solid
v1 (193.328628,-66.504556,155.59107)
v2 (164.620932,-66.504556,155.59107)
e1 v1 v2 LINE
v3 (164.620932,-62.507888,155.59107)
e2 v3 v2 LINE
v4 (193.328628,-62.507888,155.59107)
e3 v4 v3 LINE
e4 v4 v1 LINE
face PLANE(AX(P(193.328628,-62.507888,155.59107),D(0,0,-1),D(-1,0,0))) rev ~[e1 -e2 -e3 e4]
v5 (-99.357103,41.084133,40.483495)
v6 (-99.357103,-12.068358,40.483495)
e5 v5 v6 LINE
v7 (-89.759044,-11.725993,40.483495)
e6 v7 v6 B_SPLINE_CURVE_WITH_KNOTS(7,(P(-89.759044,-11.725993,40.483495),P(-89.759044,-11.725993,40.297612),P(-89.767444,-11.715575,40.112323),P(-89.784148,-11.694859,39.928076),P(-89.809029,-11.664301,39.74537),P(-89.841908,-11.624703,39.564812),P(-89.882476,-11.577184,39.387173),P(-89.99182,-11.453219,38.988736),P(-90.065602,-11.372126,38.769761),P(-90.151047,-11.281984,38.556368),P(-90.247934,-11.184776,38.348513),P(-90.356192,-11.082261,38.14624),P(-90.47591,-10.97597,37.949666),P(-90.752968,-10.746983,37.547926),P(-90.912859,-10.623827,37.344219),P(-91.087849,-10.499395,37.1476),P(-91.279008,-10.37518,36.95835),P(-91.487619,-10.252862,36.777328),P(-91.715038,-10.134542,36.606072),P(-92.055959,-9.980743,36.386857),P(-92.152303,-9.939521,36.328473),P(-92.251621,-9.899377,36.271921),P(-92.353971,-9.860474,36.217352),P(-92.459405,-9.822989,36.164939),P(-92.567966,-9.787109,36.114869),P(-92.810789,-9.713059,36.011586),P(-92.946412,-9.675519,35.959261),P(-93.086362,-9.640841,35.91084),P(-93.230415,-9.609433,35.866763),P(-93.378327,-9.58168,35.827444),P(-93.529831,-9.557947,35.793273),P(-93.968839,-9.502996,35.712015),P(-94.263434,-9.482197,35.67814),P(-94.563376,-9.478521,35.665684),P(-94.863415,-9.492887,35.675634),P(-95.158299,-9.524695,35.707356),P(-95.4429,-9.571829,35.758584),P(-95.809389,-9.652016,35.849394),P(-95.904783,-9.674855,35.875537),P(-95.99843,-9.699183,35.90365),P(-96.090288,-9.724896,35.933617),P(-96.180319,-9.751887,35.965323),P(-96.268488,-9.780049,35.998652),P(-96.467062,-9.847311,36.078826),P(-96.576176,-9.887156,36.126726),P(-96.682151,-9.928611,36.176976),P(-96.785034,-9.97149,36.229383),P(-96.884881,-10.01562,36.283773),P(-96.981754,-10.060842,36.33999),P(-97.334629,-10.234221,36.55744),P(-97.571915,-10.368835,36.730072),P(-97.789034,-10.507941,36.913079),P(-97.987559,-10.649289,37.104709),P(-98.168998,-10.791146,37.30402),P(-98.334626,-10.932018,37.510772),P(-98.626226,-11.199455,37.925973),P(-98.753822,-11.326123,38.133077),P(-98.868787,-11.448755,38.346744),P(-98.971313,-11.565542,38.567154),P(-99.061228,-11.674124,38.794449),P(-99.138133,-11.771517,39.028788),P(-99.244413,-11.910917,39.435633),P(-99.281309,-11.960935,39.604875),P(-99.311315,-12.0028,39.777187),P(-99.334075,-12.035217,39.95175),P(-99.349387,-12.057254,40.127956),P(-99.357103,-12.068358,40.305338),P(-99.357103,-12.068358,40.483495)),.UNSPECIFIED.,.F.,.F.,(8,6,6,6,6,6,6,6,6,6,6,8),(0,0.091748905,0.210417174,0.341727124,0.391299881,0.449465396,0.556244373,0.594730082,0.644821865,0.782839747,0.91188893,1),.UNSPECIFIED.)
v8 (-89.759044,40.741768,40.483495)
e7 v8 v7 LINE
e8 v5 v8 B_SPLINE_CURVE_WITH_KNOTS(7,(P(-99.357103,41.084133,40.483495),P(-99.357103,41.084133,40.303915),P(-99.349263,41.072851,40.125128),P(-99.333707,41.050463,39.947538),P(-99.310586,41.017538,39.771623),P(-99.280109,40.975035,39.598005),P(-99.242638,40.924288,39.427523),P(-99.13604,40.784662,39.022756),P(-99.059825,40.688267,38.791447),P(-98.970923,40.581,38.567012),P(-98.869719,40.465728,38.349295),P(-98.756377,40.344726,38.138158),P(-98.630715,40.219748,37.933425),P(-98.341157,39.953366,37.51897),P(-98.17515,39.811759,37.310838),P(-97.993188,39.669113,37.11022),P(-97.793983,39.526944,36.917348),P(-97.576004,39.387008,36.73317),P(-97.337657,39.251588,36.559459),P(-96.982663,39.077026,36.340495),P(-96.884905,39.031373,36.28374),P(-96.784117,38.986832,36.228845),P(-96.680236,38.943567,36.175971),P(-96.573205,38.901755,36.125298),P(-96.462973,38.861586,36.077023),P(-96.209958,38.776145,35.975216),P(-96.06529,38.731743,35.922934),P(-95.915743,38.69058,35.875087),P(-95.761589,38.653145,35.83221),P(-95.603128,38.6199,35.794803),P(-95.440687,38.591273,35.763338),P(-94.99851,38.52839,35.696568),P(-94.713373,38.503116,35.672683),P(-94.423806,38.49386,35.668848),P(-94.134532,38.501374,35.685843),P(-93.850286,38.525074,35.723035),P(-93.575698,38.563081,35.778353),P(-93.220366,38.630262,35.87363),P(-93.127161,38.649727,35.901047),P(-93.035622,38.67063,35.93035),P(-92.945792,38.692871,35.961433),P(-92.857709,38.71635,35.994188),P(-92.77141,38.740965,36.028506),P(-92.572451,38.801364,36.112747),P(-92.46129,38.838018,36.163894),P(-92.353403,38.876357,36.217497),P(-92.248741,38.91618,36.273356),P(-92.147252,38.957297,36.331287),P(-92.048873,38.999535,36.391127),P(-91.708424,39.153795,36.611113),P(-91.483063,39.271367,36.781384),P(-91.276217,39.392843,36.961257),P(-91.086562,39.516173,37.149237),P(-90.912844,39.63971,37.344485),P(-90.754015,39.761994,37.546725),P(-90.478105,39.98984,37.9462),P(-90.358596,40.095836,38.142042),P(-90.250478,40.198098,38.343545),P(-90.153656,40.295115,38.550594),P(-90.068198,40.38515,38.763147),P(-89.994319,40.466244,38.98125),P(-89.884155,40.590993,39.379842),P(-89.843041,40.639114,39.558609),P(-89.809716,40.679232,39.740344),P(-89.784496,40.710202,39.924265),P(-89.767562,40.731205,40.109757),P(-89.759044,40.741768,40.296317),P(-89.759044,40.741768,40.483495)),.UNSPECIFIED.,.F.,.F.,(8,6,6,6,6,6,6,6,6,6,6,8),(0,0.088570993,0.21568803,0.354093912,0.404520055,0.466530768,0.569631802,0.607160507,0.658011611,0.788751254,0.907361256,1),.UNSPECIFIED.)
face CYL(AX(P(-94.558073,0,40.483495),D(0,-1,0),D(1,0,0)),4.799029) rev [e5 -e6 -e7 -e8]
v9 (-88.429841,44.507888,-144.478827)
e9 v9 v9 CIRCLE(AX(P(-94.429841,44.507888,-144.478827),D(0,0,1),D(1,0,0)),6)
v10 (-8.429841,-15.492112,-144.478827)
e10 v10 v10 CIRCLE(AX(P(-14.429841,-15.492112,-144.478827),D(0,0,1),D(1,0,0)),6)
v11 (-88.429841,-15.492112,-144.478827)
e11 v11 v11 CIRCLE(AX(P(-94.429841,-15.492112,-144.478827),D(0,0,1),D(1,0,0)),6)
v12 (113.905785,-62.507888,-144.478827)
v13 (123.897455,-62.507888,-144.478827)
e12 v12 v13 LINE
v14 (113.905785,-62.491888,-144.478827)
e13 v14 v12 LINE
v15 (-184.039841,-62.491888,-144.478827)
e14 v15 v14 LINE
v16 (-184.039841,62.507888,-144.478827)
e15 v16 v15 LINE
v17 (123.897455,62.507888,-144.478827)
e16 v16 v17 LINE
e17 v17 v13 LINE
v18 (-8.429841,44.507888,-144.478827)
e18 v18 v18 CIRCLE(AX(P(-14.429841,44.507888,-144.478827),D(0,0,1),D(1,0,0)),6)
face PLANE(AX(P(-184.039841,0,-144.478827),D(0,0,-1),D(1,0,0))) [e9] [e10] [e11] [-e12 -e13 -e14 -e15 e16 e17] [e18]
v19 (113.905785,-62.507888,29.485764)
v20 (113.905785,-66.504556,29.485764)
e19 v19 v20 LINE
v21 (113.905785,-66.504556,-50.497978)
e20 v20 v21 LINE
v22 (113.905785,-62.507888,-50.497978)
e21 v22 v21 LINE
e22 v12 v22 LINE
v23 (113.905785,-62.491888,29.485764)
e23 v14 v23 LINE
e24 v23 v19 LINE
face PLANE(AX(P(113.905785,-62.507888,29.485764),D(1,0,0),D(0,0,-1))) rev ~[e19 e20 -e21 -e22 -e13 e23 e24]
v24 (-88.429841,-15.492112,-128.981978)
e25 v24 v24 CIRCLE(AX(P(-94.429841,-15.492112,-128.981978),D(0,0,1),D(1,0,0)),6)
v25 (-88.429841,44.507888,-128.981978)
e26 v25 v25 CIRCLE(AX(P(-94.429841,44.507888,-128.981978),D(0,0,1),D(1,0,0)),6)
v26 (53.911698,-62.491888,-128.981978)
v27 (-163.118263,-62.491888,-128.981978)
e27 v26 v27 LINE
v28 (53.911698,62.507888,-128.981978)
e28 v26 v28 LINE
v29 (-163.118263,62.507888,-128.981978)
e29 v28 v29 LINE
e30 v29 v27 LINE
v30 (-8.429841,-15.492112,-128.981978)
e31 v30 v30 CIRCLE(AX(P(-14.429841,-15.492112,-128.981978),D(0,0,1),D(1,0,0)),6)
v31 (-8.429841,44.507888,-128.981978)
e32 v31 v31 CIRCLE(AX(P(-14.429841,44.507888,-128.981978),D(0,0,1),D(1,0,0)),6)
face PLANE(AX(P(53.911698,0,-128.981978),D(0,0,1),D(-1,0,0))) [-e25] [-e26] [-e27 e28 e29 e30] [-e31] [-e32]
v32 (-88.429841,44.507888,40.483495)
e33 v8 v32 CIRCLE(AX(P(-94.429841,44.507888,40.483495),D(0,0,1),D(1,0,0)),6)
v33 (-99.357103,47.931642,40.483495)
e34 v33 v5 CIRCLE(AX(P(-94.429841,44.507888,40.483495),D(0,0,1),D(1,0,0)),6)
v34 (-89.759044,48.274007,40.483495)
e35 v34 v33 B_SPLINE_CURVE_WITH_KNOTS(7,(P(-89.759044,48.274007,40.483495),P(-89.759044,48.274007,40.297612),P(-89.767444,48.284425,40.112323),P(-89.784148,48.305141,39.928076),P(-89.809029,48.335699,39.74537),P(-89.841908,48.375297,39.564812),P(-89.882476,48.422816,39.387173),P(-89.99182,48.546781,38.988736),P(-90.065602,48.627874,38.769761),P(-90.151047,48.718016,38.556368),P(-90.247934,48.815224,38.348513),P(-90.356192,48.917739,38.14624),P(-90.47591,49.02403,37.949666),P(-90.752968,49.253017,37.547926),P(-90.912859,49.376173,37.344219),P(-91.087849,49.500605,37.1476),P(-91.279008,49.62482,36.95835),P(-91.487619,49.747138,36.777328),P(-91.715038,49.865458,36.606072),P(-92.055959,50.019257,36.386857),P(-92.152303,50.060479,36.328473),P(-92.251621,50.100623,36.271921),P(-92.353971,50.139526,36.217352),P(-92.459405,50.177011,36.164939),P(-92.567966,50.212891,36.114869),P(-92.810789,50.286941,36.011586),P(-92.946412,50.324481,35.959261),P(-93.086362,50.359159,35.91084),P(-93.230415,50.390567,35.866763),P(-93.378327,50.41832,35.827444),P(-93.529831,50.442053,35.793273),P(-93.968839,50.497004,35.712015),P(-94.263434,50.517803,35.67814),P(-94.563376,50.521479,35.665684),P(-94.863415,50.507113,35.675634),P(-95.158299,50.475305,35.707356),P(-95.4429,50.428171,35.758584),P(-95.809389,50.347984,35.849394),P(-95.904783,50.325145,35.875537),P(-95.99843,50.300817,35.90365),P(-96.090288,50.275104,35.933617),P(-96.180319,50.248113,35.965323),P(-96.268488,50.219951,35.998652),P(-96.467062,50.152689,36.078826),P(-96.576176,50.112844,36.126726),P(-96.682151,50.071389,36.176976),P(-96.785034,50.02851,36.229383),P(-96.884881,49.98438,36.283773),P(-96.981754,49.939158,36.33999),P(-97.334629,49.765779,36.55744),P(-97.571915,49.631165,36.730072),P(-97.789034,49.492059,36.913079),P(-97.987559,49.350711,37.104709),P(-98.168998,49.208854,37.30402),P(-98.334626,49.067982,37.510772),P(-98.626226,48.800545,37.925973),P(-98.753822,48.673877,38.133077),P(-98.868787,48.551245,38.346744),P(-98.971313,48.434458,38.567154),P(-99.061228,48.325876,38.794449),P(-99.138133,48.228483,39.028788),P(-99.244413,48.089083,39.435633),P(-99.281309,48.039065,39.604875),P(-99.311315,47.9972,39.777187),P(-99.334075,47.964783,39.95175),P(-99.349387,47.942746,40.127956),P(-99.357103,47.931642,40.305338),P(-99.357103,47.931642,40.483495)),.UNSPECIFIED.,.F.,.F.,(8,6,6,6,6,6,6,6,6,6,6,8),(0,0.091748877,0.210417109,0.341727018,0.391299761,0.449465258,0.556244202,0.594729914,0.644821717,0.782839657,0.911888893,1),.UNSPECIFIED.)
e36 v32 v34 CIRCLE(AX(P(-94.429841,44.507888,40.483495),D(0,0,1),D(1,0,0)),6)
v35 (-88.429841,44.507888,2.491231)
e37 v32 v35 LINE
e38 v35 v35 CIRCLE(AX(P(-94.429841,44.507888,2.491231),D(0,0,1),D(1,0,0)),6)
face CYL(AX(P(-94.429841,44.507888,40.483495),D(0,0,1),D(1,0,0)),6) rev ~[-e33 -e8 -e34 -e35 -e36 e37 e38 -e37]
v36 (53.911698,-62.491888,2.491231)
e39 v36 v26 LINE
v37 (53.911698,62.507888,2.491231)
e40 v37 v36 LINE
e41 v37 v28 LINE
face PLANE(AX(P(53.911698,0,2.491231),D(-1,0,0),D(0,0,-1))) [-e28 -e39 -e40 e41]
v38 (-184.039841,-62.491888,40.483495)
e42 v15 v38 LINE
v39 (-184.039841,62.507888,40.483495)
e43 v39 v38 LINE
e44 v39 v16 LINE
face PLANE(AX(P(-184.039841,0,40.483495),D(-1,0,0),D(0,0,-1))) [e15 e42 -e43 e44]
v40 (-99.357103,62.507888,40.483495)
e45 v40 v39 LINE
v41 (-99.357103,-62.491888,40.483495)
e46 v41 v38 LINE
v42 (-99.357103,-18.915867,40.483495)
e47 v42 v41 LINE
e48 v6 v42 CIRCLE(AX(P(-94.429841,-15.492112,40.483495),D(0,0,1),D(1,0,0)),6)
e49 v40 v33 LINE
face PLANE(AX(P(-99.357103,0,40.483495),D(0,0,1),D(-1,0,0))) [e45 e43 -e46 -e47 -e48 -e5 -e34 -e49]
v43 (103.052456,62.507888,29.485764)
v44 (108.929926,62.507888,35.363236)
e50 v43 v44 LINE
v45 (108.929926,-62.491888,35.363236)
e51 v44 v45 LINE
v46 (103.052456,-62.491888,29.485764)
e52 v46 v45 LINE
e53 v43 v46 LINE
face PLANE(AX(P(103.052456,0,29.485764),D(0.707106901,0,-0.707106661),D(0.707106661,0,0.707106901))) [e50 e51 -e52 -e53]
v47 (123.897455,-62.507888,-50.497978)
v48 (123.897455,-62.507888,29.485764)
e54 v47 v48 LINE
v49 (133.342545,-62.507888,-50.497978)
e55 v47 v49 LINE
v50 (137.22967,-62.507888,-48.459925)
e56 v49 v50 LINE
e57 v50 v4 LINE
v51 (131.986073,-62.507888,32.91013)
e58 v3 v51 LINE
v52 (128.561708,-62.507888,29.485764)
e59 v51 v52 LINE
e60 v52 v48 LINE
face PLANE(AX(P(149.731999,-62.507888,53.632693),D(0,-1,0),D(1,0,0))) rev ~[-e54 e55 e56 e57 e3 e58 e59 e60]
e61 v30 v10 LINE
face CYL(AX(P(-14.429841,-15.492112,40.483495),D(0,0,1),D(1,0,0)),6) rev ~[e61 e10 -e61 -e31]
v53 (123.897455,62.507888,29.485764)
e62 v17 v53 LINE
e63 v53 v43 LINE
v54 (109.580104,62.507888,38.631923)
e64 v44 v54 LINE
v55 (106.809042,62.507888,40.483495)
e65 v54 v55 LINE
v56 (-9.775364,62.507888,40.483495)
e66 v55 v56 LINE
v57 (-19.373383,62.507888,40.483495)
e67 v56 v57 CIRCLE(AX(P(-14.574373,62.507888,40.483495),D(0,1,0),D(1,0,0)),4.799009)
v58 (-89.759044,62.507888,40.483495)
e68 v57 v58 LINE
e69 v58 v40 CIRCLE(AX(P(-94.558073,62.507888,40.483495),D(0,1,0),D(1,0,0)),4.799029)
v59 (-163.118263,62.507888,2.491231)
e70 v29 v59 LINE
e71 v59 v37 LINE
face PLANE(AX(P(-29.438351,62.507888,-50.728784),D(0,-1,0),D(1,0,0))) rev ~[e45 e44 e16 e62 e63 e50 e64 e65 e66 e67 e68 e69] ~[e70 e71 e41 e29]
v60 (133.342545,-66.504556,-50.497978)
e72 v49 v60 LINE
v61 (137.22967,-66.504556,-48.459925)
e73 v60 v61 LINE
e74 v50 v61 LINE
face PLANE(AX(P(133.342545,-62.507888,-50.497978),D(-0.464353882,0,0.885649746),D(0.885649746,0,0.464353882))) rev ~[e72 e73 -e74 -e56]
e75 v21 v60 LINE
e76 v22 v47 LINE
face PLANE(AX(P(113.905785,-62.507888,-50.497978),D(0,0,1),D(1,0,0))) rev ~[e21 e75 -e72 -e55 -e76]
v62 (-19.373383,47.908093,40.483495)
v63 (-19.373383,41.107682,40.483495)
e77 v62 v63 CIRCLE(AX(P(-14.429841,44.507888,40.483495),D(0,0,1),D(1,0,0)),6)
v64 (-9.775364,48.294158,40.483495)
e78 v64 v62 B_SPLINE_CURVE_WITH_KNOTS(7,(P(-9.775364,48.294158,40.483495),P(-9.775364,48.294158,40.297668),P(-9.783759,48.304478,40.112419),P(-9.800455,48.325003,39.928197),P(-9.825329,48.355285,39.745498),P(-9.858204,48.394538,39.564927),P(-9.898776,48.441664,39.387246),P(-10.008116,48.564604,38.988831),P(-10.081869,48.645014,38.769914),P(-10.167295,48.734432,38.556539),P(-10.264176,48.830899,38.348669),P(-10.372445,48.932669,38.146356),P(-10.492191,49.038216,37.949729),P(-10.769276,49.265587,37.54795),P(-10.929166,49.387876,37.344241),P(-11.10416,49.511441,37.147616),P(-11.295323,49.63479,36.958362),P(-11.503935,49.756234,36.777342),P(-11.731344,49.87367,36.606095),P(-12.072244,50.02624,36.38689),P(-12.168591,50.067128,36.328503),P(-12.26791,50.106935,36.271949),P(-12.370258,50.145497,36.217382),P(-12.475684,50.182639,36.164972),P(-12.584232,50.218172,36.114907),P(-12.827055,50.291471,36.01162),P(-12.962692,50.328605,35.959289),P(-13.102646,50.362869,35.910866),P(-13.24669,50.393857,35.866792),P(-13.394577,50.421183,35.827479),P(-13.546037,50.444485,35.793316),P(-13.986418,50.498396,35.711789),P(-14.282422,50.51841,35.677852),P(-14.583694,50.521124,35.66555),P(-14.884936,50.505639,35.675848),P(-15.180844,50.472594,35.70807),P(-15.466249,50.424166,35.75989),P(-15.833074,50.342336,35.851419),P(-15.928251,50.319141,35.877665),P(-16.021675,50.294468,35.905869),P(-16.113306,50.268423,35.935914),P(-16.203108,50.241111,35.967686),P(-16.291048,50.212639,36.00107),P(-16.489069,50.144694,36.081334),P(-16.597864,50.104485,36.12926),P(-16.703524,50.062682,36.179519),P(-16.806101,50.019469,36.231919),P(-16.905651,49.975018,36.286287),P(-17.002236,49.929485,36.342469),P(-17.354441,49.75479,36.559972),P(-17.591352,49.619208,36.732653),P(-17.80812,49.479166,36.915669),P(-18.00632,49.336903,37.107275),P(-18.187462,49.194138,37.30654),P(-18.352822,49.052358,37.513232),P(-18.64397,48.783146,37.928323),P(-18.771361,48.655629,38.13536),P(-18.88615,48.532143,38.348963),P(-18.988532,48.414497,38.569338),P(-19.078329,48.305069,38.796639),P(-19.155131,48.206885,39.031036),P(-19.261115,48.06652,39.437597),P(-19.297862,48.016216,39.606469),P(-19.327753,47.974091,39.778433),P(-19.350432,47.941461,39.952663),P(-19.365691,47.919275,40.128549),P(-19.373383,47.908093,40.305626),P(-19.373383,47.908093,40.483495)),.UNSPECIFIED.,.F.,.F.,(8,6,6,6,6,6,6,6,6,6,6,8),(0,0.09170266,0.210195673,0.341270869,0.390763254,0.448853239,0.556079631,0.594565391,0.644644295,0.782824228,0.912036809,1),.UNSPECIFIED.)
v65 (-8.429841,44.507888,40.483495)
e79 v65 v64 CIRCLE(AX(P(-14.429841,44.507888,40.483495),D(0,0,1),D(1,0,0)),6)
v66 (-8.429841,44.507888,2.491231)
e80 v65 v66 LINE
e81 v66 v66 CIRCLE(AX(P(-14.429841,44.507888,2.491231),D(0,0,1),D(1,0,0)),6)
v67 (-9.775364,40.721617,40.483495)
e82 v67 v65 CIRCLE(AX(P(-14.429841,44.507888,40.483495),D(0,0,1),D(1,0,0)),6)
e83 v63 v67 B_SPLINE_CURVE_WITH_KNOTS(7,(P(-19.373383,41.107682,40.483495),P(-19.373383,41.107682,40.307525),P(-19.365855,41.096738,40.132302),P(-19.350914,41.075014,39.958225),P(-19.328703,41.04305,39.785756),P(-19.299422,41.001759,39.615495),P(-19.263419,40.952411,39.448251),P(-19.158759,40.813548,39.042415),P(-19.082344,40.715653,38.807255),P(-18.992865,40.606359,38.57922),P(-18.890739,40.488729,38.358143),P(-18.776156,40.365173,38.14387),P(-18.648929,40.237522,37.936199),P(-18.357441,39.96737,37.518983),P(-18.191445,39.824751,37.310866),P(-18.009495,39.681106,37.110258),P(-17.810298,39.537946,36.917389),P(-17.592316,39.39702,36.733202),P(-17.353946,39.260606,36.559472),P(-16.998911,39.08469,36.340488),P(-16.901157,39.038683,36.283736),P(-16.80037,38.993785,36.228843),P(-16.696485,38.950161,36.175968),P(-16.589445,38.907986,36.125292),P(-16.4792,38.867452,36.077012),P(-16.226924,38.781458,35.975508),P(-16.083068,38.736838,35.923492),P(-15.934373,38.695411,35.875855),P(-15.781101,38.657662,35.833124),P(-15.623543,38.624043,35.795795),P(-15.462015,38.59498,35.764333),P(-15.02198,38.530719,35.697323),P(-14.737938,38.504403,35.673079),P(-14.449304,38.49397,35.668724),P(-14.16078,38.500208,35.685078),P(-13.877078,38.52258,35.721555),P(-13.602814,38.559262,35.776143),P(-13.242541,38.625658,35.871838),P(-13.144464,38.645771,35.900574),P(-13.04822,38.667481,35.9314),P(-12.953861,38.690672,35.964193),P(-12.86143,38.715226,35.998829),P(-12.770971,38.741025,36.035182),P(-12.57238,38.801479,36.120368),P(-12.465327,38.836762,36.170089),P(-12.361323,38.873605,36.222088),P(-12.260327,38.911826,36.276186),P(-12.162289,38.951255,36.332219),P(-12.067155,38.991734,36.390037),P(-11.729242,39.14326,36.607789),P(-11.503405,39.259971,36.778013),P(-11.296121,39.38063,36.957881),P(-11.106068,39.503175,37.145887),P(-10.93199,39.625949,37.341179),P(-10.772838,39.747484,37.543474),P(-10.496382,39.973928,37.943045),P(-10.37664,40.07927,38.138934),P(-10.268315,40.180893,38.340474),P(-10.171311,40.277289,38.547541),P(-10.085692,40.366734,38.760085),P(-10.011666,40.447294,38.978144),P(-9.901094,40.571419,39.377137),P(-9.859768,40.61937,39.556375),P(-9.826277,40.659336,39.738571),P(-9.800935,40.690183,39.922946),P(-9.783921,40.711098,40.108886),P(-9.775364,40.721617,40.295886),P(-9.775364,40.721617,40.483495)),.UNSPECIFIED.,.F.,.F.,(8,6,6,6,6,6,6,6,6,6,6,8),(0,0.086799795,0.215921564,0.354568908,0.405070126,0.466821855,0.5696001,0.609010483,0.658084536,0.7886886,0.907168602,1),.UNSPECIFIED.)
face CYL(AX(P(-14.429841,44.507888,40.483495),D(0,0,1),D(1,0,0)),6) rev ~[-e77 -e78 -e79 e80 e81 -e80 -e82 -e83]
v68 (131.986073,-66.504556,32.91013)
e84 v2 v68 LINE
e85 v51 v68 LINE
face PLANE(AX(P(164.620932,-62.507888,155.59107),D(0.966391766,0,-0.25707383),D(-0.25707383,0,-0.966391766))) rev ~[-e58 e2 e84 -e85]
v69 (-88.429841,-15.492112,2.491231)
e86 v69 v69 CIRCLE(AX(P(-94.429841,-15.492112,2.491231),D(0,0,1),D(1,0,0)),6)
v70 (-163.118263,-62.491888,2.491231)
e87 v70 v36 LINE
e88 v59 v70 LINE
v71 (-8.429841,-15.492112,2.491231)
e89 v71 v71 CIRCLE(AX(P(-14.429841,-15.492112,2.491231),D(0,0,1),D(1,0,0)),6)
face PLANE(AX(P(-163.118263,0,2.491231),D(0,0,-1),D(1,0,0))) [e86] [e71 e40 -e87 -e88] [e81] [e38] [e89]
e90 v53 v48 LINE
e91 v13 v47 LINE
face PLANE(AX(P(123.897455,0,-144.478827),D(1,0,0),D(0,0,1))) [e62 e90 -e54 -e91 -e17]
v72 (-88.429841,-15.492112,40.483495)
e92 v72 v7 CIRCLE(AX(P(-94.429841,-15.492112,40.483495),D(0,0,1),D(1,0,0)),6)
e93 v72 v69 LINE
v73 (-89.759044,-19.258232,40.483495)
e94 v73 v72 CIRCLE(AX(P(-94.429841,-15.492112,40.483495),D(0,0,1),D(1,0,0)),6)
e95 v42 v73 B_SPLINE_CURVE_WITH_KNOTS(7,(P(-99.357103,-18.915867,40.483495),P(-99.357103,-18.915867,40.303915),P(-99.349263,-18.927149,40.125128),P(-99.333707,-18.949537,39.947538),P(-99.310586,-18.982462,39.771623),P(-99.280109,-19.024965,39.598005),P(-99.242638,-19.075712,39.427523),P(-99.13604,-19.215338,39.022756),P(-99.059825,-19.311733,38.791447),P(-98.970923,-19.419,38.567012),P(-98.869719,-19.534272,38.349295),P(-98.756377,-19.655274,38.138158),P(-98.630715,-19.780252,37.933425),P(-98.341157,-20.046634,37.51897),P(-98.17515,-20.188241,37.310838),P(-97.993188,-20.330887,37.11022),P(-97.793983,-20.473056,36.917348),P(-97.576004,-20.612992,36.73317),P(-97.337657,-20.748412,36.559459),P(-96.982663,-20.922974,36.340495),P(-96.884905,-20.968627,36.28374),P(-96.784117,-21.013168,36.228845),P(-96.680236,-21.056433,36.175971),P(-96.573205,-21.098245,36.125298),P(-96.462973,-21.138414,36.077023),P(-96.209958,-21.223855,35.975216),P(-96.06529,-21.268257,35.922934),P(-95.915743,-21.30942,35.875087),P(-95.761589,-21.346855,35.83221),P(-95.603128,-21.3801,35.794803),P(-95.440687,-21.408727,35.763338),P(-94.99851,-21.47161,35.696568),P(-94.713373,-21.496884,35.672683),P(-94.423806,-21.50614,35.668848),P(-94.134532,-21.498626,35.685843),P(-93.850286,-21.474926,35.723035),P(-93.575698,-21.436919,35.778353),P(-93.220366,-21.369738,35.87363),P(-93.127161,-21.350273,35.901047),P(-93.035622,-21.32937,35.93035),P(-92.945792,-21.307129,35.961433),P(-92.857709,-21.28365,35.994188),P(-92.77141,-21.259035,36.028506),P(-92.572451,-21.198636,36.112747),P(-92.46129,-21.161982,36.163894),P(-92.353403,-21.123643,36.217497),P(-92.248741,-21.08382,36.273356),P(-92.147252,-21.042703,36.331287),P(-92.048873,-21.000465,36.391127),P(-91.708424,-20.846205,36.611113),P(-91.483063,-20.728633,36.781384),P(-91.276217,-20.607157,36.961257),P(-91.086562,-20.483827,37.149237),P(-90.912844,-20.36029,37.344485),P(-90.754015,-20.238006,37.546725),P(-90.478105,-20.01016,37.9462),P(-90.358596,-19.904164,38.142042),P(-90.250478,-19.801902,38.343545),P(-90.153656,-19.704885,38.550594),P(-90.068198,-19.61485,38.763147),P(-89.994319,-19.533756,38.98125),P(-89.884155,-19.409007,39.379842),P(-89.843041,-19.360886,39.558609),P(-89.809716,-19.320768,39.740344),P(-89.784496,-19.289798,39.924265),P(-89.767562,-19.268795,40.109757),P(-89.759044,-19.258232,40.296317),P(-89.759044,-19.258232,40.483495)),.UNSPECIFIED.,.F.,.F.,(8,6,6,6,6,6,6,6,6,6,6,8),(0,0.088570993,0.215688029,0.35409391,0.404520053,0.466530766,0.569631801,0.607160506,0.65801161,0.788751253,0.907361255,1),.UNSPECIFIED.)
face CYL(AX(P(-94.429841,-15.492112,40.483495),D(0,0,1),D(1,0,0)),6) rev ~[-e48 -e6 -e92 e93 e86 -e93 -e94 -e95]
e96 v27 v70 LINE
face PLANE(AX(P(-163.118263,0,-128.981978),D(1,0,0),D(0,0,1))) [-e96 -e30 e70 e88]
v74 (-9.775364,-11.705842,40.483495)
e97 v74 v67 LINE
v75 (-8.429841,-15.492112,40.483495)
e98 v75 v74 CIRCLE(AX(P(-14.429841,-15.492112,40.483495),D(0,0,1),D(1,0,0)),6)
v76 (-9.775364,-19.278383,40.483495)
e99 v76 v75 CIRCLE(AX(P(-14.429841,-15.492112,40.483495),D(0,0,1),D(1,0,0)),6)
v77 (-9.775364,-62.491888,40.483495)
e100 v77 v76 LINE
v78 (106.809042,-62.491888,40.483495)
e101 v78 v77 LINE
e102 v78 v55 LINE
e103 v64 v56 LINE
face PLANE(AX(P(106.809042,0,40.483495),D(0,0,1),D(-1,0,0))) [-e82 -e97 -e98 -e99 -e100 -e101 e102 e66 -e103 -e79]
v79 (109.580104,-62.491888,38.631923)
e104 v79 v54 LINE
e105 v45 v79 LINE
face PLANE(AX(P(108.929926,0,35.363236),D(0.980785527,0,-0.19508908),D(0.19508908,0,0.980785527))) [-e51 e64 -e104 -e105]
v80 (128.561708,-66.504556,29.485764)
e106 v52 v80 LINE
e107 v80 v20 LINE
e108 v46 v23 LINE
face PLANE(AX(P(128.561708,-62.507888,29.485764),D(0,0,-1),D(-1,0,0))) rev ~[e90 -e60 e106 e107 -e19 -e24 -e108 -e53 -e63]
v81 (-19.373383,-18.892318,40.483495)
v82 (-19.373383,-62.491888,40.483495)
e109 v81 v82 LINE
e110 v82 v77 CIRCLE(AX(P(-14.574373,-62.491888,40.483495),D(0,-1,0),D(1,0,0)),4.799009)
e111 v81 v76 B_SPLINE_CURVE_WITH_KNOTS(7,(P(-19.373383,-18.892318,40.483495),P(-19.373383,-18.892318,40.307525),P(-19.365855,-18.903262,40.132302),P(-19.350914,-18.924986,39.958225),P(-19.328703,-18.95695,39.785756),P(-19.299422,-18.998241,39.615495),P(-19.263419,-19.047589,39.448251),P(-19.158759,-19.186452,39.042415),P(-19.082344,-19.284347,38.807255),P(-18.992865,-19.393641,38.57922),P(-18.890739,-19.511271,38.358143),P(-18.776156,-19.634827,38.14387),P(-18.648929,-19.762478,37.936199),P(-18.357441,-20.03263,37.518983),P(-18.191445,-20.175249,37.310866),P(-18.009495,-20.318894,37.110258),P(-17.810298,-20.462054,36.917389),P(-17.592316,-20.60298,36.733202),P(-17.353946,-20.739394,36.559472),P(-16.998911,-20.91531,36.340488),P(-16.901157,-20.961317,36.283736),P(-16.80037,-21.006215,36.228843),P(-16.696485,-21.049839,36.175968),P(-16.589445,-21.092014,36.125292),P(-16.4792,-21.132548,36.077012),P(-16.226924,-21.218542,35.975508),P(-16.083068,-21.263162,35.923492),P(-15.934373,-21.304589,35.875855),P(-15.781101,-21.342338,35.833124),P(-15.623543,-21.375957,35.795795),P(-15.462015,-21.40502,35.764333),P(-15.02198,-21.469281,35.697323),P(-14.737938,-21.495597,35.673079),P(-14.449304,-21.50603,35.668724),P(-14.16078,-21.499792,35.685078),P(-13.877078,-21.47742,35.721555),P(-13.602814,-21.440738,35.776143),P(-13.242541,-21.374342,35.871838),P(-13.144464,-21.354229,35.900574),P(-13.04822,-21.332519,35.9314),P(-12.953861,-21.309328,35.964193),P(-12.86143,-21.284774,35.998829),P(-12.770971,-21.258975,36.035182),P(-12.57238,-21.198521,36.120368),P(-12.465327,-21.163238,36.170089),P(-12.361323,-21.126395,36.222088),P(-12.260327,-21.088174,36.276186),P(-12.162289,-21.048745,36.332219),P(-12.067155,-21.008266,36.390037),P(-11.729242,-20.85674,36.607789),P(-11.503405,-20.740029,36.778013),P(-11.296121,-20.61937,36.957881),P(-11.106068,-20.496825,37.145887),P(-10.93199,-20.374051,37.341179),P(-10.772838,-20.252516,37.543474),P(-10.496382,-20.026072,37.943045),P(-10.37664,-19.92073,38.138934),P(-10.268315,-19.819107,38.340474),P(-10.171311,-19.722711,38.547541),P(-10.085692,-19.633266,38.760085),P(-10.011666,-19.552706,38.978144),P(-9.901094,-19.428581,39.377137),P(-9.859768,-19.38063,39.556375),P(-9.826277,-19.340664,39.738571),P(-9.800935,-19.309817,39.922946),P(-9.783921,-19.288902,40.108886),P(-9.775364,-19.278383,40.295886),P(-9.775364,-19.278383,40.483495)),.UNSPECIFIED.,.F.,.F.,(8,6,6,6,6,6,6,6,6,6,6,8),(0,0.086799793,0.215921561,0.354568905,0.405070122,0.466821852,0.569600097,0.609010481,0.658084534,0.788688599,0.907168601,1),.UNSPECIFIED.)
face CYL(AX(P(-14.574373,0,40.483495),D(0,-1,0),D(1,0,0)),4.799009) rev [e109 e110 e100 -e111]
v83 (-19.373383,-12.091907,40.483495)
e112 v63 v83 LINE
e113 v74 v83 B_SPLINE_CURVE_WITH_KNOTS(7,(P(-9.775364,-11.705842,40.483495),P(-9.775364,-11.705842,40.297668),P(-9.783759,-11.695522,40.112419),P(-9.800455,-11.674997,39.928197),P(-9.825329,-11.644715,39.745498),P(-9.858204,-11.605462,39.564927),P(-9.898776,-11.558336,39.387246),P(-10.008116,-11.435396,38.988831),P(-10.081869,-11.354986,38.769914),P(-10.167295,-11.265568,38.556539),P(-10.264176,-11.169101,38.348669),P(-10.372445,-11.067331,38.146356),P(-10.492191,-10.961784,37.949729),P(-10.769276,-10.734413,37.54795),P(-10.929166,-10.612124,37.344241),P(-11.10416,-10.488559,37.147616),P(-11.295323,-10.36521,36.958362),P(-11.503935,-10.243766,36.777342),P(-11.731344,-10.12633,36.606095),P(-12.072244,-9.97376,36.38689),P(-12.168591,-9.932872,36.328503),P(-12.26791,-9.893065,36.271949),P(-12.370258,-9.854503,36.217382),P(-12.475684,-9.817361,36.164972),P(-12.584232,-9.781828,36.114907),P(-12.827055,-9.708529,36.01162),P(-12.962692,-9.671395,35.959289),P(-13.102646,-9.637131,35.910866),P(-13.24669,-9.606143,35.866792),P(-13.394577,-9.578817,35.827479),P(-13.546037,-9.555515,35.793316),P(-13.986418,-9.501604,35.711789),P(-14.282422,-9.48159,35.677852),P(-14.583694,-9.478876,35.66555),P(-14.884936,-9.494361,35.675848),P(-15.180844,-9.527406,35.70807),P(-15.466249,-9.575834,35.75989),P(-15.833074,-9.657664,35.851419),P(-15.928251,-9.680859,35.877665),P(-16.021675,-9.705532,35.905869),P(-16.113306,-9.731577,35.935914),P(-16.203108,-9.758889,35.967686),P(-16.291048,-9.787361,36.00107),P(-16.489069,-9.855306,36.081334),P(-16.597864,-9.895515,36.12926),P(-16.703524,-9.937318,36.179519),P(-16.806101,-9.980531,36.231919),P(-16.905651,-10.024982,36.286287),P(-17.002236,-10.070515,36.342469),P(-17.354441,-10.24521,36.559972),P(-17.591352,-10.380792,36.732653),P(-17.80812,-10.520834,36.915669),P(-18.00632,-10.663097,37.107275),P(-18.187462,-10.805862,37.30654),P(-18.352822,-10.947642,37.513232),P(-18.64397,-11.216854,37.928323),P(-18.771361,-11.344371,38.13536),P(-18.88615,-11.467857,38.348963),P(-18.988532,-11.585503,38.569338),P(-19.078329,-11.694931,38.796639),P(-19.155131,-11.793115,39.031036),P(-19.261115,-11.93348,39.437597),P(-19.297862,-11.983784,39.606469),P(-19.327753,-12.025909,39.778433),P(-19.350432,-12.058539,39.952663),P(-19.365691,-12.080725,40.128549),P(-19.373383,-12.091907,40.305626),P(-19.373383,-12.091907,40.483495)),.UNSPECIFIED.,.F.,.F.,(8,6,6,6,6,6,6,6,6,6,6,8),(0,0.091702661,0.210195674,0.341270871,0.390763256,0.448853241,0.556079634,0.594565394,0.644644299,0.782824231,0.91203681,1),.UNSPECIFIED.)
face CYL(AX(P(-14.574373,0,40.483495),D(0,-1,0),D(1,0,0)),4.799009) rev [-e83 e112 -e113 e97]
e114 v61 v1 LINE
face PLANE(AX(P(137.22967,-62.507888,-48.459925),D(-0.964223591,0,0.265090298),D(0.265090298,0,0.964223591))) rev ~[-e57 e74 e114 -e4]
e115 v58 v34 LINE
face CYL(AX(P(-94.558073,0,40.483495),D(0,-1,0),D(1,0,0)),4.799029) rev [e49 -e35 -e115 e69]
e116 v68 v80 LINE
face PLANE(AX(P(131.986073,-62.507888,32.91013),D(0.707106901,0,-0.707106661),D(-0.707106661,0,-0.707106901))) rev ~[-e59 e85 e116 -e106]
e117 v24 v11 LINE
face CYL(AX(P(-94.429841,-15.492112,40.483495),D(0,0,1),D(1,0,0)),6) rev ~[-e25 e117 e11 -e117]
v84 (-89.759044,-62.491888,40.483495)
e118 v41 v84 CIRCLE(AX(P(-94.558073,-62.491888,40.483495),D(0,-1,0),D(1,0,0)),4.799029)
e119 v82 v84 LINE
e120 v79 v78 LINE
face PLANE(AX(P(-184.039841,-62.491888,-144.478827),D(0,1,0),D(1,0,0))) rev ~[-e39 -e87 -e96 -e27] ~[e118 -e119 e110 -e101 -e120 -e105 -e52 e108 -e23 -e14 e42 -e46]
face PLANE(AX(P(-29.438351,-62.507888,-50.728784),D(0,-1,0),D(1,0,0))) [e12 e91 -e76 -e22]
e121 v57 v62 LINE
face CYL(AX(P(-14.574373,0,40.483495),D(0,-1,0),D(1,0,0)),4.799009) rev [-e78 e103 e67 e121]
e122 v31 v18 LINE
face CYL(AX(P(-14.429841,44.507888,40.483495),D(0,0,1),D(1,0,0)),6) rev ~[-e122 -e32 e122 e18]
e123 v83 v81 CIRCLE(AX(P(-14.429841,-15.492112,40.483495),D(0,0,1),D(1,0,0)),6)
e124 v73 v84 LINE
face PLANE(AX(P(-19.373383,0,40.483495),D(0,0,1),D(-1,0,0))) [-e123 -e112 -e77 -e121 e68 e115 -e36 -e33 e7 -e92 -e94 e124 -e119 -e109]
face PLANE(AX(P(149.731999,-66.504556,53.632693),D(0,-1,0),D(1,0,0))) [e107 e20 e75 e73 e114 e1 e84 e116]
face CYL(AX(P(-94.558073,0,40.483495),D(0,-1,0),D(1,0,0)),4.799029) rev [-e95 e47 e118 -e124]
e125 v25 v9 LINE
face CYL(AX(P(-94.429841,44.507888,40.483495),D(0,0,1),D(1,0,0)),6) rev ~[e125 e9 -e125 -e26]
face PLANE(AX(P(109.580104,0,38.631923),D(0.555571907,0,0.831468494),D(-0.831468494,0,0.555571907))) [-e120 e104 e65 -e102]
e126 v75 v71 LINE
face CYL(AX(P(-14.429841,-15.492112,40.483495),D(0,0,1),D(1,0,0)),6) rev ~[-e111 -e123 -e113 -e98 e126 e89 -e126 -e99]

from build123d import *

# Parameters (mm, degrees)
F3_DEPTH  = 31.28
F5_DEPTH  = 2
F6_SCALE  = 1.998334
F7_R      = 6
F8_DEPTH  = 184.9633219355
F9_W      = 297.9456263797
F9_H      = 0.016
F10_DEPTH = 300.0708966475


with BuildPart() as f3:
    # F2 (on Front) → F3 (new body, symmetric)
    with BuildSketch(Plane.XZ):
        with BuildLine():
            ThreePointArc((-4.891757, 20.258623), (-7.293262, 17.857118), (-9.694767, 20.258623))
            Line((-9.694767, 20.258623), (-44.916938, 20.258623))
            ThreePointArc((-44.916938, 20.258623), (-47.318453, 17.857108), (-49.719968, 20.258623))
            Line((-49.719968, 20.258623), (-92.096637, 20.258623))
            Line((-92.096637, 20.258623), (-92.096637, -72.299639))
            Line((-92.096637, -72.299639), (62.000374, -72.299639))
            Line((62.000374, -72.299639), (62.000374, 14.755173))
            Line((62.000374, 14.755173), (51.569185, 14.755173))
            Line((51.569185, 14.755173), (54.51037, 17.696359))
            Line((54.51037, 17.696359), (54.83573, 19.332065))
            Line((54.83573, 19.332065), (53.449044, 20.258623))
            Line((53.449044, 20.258623), (-4.891757, 20.258623))
        make_face()
        Polygon((21.975165, -64.544755), (-76.586879, -64.544755), (-81.6271267767, -64.544755), (-81.6271267767, -59.504508937), (-81.6271267767, -41.1476865411), (-81.6271267767, 1.246654), (-76.586879, 1.246654), (1.777753, 1.246654), (26.978322, 1.246654), (26.978322, -19.5164), (26.978322, -41.029946), (26.978322, -64.544755), align=None, mode=Mode.SUBTRACT)
    extrude(amount=F3_DEPTH, both=True)

    # F4 (on face) → F5 (join)
    with BuildSketch(Plane.XZ.offset(31.28)):
        Polygon((96.744902432, 77.8603926301), (82.3790878057, 77.8603926301), (66.0480544983, 16.4687833792), (64.3344447017, 14.755173), (57.000374, 14.755173), (57.000374, -25.270039), (62.000374, -25.270039), (66.7268559337, -25.270039), (68.6720386147, -24.2501627654), align=None)
    extrude(amount=F5_DEPTH)


with BuildPart() as f3_1:
    # F6: moved
    add(f3.part.scale(F6_SCALE))

    # F7 (on face) → F8 (cut, through all)
    with BuildSketch(Plane.XY.offset(40.4834951341)):
        with Locations((-94.4298410028, 44.50788752)):
            Circle(F7_R)
        with Locations((-14.4298410028, 44.50788752)):
            Circle(F7_R)
        with Locations((-14.4298410028, -15.49211248)):
            Circle(F7_R)
        with Locations((-94.4298410028, -15.49211248)):
            Circle(F7_R)
    extrude(amount=-F8_DEPTH, mode=Mode.SUBTRACT)

    # F9 (on face) → F10 (cut, through all)
    with BuildSketch(Plane(origin=(0, 0, -144.4788268014), x_dir=(1, 0, 0), z_dir=(0, 0, -1))):
        with Locations((-35.0670278129, 62.49988752)):
            Rectangle(F9_W, F9_H)
    extrude(amount=-F10_DEPTH, mode=Mode.SUBTRACT)


solid = f3_1.part
